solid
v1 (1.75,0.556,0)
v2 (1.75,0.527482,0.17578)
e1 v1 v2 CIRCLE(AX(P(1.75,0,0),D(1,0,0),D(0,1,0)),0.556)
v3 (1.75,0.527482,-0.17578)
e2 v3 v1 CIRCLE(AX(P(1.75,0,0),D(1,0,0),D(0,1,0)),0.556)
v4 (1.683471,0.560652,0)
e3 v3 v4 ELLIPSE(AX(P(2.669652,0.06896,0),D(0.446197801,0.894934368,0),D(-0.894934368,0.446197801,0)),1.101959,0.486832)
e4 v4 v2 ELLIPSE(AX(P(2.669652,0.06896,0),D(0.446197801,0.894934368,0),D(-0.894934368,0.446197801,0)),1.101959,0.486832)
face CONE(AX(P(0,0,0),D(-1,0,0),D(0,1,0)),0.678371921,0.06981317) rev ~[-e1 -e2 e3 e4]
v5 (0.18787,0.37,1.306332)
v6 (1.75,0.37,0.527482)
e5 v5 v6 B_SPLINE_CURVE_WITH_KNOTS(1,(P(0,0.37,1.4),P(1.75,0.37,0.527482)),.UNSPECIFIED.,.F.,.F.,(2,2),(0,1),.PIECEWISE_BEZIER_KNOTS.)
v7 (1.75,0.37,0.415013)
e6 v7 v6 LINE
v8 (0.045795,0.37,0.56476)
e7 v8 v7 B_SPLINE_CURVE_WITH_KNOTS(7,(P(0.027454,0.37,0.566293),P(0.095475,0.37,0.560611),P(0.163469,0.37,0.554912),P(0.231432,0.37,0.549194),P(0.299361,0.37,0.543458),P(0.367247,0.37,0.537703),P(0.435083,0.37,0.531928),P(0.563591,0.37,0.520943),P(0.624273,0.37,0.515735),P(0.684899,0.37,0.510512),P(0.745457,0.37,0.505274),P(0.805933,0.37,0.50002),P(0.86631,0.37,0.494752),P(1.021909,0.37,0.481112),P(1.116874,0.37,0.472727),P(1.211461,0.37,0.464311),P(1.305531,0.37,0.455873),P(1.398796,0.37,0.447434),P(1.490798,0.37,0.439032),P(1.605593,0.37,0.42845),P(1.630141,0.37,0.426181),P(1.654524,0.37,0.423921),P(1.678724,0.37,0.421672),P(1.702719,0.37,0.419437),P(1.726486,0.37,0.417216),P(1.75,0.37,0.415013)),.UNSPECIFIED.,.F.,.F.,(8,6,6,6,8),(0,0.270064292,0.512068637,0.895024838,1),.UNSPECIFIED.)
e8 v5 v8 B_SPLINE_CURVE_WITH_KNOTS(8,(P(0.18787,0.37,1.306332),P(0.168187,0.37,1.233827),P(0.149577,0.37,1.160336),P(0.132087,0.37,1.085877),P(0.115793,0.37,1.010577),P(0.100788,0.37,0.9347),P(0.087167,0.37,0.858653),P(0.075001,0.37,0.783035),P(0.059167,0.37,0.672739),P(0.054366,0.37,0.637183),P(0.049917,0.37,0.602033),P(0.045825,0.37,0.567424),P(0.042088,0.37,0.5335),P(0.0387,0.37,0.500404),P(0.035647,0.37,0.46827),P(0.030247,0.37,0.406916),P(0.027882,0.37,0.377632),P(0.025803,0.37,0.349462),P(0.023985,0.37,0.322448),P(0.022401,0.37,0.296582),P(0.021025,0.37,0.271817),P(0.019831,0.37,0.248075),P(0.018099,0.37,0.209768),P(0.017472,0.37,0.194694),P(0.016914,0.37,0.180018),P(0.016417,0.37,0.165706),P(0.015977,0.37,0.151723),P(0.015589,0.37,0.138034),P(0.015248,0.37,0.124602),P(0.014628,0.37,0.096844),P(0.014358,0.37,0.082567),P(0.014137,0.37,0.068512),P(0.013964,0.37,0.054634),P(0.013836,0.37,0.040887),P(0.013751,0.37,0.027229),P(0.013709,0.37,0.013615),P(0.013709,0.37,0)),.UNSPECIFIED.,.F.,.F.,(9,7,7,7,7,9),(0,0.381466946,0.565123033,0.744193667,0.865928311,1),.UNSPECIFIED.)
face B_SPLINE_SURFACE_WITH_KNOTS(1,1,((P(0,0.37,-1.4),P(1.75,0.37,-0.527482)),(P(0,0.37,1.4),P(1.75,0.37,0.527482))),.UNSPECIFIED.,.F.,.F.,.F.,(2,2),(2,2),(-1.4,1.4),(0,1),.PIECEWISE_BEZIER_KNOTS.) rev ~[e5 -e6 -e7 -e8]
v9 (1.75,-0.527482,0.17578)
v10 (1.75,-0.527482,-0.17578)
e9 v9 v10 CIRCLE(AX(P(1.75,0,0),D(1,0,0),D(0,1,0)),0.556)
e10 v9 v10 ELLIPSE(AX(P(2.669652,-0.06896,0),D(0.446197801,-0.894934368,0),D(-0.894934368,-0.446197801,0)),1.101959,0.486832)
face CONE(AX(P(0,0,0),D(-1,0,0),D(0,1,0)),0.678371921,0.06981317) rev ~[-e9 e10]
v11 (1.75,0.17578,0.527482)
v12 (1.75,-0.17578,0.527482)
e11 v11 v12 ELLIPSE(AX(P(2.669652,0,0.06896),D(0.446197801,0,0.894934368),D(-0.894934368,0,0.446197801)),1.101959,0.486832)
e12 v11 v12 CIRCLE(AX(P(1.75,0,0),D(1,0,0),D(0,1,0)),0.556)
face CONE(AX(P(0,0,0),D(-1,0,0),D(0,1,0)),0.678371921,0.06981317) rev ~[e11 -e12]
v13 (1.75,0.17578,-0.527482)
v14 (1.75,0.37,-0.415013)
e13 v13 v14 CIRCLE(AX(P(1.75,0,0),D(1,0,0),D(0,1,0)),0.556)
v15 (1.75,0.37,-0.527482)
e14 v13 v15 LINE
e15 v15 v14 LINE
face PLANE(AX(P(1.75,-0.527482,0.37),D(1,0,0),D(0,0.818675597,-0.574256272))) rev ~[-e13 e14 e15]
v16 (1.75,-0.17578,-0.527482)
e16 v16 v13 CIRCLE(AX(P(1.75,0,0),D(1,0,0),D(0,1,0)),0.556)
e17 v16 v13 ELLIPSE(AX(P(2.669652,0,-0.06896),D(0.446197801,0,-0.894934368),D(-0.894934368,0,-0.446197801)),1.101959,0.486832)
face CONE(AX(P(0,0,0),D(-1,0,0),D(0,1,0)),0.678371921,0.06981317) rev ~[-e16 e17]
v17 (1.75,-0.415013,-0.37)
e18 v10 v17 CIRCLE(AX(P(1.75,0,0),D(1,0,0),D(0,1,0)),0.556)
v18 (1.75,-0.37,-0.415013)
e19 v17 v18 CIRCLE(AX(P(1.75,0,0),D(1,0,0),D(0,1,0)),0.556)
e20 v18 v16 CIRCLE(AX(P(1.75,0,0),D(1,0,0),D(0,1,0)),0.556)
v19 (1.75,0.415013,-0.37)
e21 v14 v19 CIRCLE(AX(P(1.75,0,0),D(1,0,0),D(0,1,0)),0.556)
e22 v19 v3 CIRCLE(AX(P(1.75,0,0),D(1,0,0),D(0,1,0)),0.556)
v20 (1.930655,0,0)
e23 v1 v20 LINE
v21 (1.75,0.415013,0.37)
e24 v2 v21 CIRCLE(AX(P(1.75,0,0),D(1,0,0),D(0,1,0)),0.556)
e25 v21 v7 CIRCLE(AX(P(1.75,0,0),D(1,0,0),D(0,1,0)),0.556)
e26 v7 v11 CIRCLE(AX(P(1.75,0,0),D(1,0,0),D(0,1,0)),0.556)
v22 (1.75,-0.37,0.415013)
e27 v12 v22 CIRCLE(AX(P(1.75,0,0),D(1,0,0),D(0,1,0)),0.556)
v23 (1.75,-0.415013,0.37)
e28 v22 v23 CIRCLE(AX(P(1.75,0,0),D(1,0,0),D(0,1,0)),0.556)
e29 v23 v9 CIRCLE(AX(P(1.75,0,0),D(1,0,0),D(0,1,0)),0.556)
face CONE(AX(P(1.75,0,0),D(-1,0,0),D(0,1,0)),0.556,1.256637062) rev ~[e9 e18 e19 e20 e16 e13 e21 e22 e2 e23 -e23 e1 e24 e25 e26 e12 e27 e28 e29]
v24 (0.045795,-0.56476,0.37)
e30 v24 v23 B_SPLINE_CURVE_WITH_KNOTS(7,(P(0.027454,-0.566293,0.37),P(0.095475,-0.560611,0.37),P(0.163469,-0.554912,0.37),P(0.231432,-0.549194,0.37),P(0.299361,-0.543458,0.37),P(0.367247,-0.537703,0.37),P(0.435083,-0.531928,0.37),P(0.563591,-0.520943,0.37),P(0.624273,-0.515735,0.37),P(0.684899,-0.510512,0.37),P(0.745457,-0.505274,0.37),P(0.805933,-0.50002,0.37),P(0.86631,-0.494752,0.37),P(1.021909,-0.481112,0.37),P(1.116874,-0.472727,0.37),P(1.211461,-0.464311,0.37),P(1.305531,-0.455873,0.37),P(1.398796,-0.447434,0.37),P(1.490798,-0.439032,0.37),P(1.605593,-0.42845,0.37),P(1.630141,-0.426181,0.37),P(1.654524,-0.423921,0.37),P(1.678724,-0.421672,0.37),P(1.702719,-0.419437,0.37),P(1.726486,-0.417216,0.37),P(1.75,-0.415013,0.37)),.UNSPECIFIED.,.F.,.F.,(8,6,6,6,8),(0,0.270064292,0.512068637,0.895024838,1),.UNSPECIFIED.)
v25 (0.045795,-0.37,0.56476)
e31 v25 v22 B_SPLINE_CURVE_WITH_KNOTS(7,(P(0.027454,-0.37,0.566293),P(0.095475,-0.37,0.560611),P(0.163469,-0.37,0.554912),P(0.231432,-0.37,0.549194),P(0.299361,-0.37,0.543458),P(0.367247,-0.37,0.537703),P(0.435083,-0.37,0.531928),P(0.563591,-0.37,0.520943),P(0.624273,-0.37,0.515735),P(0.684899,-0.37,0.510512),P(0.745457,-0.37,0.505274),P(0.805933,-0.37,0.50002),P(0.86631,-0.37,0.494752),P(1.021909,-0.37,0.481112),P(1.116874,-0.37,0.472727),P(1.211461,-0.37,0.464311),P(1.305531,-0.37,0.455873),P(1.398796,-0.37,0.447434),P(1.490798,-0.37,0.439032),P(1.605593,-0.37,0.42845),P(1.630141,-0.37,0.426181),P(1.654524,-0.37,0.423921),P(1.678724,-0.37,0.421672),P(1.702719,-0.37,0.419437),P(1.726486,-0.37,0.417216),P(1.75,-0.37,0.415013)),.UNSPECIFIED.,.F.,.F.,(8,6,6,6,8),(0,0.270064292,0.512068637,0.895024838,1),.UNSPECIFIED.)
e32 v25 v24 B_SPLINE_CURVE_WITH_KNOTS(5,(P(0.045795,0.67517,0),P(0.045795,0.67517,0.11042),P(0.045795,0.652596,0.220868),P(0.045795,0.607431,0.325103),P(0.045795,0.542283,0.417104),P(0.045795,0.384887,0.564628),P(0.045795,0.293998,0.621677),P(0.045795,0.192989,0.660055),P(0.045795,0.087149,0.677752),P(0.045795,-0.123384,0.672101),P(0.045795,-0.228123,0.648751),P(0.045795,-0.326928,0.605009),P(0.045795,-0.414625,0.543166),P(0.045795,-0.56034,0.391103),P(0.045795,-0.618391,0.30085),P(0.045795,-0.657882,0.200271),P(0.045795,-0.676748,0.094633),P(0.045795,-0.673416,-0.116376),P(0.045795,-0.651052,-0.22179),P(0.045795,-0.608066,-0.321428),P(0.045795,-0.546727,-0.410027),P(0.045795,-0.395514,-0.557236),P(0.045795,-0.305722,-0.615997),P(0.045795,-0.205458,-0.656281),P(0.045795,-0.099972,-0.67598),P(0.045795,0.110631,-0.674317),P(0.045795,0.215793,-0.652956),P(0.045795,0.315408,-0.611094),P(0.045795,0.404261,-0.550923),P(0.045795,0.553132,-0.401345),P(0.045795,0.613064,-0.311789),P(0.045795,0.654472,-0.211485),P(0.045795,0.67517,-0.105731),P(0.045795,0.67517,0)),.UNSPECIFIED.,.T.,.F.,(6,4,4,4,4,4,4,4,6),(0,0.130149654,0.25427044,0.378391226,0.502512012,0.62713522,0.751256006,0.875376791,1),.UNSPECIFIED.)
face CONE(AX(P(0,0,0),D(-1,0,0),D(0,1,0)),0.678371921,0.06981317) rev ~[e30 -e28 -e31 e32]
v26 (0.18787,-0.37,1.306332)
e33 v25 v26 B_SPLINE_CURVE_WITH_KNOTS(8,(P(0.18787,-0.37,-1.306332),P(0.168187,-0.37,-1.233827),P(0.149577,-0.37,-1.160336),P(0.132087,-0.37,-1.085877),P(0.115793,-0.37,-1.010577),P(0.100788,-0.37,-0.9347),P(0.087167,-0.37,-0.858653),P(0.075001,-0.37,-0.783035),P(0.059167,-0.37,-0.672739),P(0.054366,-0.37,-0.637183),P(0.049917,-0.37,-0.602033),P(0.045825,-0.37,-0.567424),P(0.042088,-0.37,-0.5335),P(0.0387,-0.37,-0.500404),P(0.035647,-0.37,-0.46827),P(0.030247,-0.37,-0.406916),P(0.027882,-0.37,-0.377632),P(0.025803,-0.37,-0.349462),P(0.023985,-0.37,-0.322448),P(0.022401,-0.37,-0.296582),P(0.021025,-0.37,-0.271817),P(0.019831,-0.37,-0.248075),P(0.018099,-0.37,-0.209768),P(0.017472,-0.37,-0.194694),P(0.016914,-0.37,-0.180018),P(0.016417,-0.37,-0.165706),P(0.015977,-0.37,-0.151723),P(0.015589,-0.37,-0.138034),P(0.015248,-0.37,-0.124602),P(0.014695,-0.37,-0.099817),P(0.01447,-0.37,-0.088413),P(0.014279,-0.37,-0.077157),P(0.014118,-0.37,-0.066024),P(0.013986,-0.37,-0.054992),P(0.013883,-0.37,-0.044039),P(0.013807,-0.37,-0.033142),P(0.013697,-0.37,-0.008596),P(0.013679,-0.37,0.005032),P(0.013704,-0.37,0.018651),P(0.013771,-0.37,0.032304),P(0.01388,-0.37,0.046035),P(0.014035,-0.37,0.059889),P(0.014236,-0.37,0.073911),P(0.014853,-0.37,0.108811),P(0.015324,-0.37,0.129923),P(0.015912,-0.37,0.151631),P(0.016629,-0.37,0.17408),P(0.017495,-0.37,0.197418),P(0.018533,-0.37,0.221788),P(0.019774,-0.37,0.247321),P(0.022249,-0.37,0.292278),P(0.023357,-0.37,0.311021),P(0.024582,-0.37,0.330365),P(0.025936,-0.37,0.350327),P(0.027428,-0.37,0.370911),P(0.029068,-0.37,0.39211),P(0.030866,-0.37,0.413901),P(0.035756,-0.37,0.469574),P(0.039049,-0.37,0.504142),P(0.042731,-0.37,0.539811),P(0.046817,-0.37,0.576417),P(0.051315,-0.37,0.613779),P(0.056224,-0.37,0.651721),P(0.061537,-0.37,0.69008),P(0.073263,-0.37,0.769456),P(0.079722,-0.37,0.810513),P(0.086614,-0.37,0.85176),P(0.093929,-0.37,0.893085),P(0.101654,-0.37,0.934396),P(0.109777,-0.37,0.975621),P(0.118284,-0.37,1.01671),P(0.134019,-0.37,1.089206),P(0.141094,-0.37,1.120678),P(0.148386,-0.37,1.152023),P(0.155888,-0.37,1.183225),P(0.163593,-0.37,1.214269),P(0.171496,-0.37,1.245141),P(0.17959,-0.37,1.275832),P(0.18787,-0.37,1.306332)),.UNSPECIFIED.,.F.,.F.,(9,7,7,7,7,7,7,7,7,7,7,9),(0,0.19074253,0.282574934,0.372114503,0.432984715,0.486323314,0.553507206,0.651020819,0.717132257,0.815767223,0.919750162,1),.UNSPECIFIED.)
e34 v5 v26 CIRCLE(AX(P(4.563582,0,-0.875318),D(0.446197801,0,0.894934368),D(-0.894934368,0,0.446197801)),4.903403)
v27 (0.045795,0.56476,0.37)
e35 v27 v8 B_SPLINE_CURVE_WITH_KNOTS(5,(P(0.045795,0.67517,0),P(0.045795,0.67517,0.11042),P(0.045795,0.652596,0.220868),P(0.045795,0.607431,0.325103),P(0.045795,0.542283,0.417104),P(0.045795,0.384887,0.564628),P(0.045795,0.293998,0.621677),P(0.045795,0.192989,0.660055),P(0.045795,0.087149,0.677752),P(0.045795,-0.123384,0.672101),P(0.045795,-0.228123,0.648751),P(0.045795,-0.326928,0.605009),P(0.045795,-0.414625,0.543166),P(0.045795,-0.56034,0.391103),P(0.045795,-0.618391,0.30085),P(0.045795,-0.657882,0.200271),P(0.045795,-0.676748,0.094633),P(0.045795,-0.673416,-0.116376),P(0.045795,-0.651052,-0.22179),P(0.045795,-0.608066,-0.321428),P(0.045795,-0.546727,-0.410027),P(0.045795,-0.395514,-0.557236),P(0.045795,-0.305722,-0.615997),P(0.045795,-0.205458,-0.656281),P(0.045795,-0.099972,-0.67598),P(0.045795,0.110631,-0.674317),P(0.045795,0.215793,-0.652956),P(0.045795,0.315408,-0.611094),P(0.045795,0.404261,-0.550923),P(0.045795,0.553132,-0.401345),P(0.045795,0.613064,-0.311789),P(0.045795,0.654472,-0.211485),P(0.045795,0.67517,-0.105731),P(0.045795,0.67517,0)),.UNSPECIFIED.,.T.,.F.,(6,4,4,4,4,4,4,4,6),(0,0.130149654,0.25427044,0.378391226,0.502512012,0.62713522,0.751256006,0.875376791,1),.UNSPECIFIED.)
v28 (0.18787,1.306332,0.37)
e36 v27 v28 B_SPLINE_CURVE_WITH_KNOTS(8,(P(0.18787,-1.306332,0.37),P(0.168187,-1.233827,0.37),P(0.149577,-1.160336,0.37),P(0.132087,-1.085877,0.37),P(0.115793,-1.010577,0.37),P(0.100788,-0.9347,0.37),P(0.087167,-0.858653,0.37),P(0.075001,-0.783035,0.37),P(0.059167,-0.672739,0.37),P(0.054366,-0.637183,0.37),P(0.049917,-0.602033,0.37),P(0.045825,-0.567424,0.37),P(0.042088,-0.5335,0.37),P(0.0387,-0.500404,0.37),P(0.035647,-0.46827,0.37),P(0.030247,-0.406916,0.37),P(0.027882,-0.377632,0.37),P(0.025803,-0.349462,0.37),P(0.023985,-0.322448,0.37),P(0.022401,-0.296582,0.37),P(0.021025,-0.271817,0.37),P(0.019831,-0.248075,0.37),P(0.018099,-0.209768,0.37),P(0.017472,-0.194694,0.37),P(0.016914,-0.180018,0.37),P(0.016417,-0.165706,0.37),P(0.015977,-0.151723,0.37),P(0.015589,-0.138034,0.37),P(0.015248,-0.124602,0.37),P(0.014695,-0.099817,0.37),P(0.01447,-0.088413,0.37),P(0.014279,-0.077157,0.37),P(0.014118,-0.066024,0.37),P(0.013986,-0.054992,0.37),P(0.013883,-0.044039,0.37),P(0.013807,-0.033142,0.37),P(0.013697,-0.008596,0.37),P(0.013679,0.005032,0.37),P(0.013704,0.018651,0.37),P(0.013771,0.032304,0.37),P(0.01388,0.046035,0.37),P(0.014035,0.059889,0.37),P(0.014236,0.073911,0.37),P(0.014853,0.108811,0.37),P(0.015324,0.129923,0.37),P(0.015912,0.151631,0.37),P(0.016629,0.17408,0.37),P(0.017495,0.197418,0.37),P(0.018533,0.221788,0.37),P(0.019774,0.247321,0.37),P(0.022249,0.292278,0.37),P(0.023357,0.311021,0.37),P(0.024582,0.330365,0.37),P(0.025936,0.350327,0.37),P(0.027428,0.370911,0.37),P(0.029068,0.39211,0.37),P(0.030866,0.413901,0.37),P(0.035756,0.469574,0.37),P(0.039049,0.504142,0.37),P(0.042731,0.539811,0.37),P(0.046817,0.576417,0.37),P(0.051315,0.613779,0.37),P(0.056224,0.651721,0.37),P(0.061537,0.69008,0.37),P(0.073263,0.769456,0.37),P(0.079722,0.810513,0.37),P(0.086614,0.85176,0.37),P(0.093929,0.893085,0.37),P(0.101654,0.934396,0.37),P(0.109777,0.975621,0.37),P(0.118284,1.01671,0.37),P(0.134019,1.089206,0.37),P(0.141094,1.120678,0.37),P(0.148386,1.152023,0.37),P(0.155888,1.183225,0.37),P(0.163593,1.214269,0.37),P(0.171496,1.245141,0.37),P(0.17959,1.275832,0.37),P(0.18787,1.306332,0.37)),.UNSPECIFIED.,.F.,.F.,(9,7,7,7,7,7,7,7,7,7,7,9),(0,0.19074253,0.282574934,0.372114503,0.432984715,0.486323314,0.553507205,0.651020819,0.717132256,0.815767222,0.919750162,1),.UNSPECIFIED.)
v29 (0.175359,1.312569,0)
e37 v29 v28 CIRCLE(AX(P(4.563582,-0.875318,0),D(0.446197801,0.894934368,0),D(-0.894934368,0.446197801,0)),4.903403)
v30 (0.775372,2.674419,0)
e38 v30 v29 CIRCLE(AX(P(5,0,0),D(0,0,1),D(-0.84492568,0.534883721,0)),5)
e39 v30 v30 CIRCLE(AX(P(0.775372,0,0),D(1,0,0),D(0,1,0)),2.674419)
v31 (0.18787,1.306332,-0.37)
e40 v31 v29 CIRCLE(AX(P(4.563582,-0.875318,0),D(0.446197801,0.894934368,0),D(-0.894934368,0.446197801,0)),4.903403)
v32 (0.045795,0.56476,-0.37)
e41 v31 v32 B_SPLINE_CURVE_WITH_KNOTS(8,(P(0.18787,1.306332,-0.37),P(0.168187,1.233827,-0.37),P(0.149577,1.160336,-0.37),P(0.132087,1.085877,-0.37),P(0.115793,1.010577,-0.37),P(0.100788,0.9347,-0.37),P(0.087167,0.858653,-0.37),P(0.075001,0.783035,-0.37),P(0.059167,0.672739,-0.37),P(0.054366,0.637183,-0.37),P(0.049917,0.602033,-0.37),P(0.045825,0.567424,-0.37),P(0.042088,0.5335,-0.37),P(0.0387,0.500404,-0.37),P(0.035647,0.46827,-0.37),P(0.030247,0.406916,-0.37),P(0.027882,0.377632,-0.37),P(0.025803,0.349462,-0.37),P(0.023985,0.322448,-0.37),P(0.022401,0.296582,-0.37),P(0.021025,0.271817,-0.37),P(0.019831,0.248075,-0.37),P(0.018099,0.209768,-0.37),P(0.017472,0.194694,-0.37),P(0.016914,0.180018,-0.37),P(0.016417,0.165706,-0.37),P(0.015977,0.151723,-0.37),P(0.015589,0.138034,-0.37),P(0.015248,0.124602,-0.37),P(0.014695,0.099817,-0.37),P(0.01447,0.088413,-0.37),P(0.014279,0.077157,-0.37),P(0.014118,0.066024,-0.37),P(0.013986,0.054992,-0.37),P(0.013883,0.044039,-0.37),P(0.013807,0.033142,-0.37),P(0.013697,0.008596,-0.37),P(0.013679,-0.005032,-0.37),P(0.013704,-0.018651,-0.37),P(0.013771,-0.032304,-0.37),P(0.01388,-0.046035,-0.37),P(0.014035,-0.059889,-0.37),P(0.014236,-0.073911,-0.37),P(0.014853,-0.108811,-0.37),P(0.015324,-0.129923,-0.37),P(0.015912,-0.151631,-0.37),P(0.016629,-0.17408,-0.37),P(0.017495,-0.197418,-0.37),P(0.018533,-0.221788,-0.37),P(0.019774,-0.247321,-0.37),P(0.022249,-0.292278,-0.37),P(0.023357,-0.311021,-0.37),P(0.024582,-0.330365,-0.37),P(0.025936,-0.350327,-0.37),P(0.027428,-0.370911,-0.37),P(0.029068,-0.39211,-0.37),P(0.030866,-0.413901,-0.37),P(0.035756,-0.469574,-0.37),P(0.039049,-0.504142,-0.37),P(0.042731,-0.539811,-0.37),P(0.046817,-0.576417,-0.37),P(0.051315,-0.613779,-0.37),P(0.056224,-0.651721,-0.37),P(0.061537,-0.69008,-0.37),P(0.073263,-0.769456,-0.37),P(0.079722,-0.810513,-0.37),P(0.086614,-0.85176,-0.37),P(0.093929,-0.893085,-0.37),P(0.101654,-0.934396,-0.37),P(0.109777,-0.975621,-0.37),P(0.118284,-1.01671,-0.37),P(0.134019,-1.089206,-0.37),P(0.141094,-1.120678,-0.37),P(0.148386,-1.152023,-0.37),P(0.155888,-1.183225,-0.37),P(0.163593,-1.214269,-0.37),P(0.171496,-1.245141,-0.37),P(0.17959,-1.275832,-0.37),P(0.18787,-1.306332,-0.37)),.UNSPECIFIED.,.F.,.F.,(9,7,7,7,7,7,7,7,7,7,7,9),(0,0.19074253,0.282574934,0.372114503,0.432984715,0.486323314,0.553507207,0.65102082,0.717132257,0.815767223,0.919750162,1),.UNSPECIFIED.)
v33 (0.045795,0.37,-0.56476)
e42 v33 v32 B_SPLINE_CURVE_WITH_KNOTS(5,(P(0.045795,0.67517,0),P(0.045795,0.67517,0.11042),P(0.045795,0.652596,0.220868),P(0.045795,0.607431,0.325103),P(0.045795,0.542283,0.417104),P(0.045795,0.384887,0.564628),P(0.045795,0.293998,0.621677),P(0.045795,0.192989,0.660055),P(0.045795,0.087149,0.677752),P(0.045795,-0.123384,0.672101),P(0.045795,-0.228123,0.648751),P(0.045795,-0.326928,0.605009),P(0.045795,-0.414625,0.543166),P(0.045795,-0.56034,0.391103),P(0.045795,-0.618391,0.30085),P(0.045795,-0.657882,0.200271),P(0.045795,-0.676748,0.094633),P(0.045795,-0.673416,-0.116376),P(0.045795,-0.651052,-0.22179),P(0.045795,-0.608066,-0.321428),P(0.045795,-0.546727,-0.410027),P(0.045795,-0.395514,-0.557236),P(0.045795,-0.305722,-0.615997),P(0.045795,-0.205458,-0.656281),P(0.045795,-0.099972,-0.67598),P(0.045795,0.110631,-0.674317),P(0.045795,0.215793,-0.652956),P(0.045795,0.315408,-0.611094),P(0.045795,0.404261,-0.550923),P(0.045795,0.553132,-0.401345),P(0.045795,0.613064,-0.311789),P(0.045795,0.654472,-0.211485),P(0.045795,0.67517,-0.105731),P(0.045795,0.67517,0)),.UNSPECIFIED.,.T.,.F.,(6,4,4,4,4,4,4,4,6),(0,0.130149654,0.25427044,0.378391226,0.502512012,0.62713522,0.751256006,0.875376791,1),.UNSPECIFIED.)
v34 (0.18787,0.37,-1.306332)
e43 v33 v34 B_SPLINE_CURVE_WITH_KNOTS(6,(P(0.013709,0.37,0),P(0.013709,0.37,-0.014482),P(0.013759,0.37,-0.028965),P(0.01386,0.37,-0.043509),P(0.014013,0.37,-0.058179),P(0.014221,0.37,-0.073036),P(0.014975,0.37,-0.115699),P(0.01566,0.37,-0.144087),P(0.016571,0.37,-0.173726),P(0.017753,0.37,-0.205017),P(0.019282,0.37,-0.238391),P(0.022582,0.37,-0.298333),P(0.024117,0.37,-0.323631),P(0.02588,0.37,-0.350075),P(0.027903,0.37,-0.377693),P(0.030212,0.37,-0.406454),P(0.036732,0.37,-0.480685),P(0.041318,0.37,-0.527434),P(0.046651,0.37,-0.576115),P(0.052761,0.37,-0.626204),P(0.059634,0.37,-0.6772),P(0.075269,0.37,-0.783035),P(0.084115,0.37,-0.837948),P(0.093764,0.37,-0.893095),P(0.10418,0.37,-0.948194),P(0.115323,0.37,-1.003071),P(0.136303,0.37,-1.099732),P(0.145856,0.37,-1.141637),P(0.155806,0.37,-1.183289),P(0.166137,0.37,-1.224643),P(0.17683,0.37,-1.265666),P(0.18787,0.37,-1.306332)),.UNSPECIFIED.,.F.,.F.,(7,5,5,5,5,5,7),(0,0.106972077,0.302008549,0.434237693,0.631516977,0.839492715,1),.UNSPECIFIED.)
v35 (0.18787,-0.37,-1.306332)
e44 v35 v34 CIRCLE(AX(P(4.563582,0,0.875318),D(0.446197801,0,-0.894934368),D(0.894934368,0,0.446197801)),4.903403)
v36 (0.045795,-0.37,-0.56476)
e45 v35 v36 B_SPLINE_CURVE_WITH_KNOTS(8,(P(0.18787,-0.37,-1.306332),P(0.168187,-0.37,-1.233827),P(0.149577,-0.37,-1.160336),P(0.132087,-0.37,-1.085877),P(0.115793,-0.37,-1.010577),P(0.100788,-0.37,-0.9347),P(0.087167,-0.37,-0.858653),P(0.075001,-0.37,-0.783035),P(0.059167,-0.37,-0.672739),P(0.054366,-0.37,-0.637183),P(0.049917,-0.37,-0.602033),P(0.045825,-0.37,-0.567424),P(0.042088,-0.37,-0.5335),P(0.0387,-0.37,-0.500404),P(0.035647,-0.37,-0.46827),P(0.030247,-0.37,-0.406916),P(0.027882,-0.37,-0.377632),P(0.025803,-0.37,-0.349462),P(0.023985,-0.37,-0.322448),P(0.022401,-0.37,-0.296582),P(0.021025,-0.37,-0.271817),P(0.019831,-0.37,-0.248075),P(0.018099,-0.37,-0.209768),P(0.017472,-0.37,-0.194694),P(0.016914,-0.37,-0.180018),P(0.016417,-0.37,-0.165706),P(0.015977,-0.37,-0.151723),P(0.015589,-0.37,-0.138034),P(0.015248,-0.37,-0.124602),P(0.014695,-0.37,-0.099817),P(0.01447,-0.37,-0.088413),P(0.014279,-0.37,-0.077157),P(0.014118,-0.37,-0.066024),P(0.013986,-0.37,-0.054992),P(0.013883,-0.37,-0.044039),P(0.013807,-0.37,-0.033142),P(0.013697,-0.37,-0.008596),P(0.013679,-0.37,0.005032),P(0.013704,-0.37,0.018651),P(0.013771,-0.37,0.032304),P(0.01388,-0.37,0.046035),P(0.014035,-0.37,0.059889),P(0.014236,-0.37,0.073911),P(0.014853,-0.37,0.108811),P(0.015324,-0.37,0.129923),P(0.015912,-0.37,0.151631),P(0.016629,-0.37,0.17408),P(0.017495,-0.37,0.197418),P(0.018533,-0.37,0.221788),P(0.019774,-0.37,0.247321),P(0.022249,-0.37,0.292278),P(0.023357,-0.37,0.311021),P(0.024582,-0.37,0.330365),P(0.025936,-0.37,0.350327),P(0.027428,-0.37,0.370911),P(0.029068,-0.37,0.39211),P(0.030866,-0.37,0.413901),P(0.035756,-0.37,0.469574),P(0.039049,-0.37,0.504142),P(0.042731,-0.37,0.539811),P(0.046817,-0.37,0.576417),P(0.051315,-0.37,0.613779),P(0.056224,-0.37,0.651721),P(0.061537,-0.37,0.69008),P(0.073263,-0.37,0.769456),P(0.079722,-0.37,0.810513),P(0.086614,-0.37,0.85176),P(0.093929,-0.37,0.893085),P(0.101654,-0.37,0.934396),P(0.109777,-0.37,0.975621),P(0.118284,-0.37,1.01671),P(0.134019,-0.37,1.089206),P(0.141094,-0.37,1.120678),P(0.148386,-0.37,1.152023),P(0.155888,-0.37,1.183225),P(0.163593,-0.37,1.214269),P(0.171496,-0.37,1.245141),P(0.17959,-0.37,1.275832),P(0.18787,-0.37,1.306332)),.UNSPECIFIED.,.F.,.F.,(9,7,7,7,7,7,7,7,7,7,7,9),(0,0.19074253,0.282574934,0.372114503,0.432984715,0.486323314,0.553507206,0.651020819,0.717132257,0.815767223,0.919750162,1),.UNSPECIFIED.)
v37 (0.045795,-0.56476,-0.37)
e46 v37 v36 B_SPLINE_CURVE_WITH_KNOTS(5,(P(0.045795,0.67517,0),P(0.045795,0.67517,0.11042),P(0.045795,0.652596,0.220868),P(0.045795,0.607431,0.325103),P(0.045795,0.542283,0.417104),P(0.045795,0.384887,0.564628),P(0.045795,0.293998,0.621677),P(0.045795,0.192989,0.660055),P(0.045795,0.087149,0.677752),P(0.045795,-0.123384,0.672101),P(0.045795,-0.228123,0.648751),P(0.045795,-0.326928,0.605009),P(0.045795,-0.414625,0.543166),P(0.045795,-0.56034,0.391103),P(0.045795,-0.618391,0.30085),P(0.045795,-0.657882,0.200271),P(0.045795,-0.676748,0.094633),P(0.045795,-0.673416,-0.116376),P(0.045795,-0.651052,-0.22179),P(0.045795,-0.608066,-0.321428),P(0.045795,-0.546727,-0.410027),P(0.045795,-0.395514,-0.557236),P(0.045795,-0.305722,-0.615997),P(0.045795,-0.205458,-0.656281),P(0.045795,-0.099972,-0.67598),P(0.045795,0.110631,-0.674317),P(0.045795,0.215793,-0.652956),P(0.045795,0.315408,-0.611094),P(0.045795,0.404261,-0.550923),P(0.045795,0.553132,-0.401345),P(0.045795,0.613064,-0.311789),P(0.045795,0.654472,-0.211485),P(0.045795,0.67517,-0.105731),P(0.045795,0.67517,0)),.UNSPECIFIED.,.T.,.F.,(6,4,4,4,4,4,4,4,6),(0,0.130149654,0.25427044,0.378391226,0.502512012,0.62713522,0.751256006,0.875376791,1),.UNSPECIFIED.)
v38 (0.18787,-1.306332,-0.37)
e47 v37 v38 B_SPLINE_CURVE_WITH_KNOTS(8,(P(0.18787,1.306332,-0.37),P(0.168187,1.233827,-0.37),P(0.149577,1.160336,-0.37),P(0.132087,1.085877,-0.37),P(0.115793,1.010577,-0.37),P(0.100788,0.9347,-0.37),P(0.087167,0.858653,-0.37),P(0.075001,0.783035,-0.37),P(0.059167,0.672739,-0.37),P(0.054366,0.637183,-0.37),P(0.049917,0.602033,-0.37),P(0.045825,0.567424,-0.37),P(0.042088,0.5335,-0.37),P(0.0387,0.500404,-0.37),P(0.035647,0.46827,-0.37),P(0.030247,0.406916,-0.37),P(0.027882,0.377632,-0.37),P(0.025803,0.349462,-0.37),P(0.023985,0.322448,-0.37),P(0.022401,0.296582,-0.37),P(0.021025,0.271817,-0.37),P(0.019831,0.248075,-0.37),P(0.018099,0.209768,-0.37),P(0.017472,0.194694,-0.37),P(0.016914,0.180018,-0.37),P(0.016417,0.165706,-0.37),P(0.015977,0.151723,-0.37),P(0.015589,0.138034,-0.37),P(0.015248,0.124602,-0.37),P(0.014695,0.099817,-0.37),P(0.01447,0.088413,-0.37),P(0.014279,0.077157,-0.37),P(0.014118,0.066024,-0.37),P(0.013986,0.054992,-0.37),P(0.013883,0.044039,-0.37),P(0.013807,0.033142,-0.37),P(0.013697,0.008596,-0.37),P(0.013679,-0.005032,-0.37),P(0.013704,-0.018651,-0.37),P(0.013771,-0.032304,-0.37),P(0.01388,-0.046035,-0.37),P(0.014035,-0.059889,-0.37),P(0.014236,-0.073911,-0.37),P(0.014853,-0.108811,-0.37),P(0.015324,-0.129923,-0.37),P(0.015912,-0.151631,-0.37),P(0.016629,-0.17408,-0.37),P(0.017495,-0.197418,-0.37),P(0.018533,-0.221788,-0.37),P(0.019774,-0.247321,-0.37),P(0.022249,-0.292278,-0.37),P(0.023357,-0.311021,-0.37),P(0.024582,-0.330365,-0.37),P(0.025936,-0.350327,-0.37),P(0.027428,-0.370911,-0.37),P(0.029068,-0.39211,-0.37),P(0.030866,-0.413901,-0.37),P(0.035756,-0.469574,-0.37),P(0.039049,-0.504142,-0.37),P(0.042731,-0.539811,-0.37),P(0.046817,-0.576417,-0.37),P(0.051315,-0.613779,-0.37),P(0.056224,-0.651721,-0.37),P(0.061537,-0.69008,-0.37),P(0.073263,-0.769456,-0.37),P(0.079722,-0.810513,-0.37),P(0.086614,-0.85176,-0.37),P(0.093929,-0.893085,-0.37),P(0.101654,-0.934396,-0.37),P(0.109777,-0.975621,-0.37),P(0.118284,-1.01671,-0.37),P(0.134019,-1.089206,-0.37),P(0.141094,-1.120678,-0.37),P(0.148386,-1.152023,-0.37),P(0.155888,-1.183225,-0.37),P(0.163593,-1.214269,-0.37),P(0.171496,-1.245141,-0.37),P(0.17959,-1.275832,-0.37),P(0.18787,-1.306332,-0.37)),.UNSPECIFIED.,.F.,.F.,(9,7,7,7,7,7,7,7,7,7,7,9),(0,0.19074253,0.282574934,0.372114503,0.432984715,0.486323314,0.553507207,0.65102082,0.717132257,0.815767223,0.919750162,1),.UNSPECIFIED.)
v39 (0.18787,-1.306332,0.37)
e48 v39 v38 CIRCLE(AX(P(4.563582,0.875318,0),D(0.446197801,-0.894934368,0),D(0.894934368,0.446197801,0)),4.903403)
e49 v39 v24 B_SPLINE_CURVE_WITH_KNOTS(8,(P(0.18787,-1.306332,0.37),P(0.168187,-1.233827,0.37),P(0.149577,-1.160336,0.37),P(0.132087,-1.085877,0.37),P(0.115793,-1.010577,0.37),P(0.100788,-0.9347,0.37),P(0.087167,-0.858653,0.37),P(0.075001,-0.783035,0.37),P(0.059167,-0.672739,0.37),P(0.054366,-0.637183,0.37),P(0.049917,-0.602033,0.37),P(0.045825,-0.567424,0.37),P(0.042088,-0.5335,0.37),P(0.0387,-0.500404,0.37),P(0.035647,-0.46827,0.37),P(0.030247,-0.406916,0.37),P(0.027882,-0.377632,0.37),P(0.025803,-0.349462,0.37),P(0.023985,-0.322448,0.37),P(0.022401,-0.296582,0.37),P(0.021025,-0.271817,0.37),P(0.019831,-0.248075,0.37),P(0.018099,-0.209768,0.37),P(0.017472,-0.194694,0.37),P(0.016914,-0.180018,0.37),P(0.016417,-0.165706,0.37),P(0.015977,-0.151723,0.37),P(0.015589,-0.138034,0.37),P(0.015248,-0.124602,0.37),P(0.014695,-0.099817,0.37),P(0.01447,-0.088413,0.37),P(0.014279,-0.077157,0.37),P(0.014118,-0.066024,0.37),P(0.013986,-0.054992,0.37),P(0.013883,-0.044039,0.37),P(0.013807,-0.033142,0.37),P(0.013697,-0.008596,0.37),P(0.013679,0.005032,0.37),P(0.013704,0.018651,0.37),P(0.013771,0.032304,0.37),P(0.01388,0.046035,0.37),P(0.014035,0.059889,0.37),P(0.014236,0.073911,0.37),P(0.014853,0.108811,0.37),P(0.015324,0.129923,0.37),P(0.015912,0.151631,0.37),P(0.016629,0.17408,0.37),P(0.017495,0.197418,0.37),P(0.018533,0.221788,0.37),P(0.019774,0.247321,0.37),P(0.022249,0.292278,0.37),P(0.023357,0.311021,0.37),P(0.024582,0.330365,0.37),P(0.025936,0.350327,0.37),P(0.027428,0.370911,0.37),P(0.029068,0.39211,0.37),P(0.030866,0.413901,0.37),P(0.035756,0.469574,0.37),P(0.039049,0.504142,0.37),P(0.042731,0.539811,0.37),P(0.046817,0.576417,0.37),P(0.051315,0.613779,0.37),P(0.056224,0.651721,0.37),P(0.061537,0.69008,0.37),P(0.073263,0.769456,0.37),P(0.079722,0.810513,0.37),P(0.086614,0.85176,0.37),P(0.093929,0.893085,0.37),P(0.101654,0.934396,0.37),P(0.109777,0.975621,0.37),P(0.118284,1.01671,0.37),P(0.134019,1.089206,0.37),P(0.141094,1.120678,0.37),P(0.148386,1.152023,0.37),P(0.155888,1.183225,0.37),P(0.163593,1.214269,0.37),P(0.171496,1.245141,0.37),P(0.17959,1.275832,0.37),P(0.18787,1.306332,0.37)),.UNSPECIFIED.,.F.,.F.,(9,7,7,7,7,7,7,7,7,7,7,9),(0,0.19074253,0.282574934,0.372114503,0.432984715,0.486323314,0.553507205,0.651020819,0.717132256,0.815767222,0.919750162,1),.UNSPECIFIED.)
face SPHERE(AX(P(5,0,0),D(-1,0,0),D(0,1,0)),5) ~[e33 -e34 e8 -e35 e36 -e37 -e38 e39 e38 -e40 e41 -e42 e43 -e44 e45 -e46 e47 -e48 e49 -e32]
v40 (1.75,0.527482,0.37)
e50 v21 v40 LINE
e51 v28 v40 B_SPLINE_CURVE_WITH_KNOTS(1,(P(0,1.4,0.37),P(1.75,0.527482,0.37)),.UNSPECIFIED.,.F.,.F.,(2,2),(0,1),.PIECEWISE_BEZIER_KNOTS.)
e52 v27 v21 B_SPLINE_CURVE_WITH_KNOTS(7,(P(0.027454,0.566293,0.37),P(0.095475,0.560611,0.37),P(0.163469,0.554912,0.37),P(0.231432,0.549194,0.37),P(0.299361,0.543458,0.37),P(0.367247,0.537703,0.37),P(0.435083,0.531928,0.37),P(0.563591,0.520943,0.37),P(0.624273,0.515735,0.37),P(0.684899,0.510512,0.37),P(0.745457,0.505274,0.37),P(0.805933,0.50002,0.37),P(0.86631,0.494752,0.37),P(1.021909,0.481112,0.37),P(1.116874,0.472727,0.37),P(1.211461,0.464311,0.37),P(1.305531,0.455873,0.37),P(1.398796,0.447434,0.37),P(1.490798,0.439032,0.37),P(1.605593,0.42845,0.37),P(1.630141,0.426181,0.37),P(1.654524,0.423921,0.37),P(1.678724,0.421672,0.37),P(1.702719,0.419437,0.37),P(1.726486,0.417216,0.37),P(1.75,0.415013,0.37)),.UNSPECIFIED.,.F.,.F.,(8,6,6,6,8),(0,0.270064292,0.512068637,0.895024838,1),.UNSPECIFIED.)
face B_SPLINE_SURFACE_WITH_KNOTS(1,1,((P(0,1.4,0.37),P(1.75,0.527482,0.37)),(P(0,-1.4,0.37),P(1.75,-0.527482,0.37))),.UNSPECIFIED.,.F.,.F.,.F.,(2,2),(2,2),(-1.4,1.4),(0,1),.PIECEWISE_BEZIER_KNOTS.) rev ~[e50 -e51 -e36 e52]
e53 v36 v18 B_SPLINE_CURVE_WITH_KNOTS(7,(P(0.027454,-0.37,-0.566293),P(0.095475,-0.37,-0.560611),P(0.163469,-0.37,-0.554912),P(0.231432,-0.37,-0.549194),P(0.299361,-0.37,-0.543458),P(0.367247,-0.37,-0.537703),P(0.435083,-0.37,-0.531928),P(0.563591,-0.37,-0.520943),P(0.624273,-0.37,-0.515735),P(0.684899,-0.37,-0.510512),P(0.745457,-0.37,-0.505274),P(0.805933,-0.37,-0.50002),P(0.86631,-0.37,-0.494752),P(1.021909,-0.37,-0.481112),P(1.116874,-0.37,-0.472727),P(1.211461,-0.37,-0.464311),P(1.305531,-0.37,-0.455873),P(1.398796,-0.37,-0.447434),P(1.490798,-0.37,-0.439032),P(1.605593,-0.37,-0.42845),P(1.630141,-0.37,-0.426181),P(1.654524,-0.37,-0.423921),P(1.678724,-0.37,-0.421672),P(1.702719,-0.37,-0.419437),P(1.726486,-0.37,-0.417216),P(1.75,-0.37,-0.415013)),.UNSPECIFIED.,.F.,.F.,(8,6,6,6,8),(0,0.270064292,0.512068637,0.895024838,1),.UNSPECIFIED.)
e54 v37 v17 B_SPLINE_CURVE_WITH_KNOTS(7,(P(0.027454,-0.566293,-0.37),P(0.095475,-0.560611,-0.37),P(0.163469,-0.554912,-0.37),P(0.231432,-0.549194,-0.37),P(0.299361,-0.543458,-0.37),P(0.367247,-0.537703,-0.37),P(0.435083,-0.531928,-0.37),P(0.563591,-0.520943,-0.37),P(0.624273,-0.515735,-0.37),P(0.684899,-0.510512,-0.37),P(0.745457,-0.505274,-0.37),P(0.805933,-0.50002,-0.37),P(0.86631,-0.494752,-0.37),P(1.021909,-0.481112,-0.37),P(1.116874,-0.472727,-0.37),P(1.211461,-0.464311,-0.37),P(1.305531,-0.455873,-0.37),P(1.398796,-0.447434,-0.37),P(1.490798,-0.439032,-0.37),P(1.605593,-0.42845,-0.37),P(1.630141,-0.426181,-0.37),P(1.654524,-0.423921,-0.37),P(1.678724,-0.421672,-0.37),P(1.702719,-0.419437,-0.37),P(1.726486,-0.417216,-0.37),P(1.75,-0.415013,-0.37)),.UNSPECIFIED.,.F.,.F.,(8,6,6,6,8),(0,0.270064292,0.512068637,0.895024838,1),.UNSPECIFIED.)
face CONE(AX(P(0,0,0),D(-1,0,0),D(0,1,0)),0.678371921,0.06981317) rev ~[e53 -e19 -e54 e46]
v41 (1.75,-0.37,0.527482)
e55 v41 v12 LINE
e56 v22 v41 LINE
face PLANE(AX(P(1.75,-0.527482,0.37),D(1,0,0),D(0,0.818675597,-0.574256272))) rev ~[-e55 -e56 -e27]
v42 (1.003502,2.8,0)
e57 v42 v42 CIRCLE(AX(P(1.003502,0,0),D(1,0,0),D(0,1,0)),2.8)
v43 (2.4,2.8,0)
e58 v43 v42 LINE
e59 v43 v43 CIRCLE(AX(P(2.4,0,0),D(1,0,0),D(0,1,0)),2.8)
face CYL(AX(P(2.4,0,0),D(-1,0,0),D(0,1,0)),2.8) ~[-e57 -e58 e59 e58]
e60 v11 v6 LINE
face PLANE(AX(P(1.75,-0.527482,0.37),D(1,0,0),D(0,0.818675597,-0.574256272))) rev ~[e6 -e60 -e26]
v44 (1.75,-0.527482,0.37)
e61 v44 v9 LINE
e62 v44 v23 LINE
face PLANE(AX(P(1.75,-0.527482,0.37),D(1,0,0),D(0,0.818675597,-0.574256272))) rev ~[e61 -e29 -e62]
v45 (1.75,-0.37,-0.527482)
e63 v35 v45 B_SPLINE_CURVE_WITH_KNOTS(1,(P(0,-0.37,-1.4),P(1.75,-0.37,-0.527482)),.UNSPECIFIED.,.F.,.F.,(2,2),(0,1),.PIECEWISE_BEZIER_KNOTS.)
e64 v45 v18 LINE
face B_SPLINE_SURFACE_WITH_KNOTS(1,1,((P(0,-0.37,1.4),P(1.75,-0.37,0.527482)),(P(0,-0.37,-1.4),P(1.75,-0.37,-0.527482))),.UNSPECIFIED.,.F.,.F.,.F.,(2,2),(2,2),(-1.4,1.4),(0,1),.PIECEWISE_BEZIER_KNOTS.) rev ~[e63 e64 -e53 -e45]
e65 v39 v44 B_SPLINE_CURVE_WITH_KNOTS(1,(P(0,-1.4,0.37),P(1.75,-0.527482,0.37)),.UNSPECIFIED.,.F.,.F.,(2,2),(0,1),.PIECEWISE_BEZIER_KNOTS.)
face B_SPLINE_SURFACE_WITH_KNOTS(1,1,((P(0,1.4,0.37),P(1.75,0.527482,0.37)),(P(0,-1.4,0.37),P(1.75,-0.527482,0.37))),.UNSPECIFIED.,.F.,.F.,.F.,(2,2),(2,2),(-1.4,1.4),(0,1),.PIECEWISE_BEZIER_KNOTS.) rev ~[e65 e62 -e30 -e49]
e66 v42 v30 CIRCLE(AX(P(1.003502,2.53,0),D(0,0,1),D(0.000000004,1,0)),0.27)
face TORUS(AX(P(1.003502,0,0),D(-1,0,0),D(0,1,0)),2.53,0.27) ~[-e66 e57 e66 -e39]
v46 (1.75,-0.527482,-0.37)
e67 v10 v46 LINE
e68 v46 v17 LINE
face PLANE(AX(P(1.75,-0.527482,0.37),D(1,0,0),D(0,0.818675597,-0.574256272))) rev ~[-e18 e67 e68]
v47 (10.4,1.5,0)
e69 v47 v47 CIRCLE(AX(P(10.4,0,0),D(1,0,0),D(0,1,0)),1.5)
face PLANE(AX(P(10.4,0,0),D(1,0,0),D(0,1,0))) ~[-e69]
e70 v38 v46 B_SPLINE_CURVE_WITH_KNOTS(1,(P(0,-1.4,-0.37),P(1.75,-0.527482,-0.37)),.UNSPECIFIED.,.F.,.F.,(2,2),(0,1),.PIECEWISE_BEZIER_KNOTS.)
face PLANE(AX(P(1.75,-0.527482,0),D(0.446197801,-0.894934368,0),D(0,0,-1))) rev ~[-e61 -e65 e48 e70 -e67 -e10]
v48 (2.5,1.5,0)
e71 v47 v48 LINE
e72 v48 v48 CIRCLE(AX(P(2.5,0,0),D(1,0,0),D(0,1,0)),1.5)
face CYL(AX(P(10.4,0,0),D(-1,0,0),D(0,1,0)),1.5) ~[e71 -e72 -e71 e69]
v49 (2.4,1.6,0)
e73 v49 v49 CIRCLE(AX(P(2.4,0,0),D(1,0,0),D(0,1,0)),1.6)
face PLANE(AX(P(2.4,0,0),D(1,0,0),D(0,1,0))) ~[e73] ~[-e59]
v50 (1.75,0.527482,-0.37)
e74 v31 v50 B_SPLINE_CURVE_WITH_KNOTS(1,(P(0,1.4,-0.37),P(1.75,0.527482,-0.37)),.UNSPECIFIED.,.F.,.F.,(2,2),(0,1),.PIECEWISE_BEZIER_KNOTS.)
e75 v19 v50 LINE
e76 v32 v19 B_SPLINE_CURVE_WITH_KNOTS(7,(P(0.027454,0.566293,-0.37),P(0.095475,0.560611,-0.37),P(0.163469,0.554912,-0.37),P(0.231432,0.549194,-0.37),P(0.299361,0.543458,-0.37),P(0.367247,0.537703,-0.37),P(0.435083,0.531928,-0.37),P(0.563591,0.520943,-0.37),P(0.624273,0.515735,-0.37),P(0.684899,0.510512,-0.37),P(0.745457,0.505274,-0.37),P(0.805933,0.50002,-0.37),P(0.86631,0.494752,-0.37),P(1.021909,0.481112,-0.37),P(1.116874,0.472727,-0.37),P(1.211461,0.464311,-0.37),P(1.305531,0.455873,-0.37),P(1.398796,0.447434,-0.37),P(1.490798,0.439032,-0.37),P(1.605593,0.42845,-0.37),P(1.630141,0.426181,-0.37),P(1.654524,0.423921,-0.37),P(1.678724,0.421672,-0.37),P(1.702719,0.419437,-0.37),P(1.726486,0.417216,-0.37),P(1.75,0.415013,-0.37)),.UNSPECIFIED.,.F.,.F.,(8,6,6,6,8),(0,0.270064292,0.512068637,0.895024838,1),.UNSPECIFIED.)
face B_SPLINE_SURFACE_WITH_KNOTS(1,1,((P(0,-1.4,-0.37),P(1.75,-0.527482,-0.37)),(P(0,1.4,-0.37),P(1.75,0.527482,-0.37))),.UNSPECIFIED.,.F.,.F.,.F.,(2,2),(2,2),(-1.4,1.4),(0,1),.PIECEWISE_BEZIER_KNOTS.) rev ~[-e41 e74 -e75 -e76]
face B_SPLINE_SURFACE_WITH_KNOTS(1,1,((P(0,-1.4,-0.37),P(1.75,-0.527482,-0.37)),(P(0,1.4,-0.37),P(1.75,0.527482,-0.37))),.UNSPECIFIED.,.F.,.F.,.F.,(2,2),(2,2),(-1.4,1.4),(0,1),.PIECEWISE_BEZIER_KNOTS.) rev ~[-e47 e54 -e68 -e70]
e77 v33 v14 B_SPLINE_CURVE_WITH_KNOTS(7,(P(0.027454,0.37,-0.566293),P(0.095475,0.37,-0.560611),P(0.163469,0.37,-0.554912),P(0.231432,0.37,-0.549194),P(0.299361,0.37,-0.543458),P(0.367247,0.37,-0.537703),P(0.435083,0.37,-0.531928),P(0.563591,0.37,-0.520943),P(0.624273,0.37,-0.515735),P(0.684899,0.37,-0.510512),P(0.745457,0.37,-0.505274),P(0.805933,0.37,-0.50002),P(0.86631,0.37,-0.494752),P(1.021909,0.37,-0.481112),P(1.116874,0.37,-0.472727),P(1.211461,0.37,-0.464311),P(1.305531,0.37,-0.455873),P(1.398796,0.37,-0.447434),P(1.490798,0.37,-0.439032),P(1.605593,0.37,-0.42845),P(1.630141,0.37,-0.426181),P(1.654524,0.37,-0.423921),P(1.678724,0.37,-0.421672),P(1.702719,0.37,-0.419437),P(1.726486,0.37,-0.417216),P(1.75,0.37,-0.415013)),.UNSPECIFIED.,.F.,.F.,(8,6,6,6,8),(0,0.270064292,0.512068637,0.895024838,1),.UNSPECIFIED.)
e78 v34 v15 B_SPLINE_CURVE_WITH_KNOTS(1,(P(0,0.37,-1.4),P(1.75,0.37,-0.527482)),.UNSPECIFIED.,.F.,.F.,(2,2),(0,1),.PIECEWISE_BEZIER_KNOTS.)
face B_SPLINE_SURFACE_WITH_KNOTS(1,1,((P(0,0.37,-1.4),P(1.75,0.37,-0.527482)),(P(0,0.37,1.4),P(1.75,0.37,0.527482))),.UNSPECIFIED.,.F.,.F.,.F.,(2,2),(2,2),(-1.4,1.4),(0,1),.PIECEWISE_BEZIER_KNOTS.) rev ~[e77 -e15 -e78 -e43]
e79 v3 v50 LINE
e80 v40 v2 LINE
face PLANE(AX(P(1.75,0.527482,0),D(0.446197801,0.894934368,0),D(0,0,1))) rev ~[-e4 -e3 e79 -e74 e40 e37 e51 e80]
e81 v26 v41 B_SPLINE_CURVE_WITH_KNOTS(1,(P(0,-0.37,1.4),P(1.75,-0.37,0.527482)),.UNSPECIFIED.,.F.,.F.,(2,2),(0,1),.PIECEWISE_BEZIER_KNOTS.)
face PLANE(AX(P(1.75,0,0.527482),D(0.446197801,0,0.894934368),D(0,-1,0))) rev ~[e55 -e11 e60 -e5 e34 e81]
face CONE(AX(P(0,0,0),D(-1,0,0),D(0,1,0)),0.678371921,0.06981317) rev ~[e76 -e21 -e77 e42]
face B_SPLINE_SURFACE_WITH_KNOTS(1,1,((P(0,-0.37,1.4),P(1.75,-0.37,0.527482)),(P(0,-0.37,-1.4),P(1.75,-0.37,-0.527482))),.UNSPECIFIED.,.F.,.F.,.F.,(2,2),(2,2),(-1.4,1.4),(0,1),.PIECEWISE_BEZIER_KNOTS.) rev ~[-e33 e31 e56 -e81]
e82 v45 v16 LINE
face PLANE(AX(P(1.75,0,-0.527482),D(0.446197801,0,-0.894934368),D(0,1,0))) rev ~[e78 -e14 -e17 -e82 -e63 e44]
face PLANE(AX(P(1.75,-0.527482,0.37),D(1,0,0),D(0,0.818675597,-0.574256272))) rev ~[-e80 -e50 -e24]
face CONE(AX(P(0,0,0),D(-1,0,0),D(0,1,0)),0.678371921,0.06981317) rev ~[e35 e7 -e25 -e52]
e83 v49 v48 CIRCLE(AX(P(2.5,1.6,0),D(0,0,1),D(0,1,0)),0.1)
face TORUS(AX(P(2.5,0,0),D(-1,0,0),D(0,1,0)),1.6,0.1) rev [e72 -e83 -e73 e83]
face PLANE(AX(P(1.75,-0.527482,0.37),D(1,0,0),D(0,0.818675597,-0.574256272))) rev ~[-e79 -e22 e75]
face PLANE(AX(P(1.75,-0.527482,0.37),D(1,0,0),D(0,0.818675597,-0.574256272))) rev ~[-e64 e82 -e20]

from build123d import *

# Parameters (mm, degrees)
FILLET1_R    = 0.1
SKETCH3_W    = 0.74
SKETCH3_H    = 2.8
SKETCH4_W    = 0.74
SKETCH4_H    = 1.054964432
RECPAT_COUNT = 2
RECPAT_ANGLE = 90


with BuildPart() as part:
    # BodySke → Base-Revolve (revolve)
    with BuildSketch(Plane.XY):
        with BuildLine():
            Line((2.4, 1.5), (2.4, 2.8))
            Line((2.4, 2.8), (1.003501533, 2.8))
            ThreePointArc((1.003501533, 2.8), (0.873295971, 2.76653015), (0.775371599, 2.674418605))
            ThreePointArc((0.775371599, 2.674418605), (0.197753546, 1.392274756), (0, 0))
            Line((0, 0), (10.4, 0))
            Line((10.4, 0), (10.4, 1.5))
            Line((10.4, 1.5), (2.4, 1.5))
        make_face()
    revolve(axis=Axis((-25.4, 0, 0), (1, 0, 0)))

    # Fillet1
    fillet1_edges = [part.edges().sort_by_distance(p)[0] for p in [
        (2.4, -1.5, 0),
    ]]
    fillet(fillet1_edges, radius=FILLET1_R)

    # Sketch3 → Recess section 0
    with BuildSketch(Plane(origin=(0, 0, 0), x_dir=(0, 0, -1), z_dir=(1, 0, 0))):
        Rectangle(SKETCH3_W, SKETCH3_H)
    # Sketch4 → Recess section 1
    with BuildSketch(Plane(origin=(1.75, 0, 0), x_dir=(0, 0, -1), z_dir=(1, 0, 0))):
        Rectangle(SKETCH4_W, SKETCH4_H)
    recess = loft(mode=Mode.SUBTRACT)

    # RecPat: Recess ×2 about axis
    recpat_axis = Axis((0, 0, 0), (1, 0, 0))
    for i in range(1, RECPAT_COUNT):
        add(recess.rotate(recpat_axis, i * RECPAT_ANGLE / (RECPAT_COUNT - 1)), mode=Mode.SUBTRACT)

    # RecCorSke → RecessCore (revolve, cut)
    with BuildSketch(Plane.XY):
        Polygon((0, 0), (0, 0.678371921), (1.75, 0.556), (1.930655351, 0), align=None)
    revolve(axis=Axis((-3.175, 0, 0), (1, 0, 0)), mode=Mode.SUBTRACT)


solid = part.part
